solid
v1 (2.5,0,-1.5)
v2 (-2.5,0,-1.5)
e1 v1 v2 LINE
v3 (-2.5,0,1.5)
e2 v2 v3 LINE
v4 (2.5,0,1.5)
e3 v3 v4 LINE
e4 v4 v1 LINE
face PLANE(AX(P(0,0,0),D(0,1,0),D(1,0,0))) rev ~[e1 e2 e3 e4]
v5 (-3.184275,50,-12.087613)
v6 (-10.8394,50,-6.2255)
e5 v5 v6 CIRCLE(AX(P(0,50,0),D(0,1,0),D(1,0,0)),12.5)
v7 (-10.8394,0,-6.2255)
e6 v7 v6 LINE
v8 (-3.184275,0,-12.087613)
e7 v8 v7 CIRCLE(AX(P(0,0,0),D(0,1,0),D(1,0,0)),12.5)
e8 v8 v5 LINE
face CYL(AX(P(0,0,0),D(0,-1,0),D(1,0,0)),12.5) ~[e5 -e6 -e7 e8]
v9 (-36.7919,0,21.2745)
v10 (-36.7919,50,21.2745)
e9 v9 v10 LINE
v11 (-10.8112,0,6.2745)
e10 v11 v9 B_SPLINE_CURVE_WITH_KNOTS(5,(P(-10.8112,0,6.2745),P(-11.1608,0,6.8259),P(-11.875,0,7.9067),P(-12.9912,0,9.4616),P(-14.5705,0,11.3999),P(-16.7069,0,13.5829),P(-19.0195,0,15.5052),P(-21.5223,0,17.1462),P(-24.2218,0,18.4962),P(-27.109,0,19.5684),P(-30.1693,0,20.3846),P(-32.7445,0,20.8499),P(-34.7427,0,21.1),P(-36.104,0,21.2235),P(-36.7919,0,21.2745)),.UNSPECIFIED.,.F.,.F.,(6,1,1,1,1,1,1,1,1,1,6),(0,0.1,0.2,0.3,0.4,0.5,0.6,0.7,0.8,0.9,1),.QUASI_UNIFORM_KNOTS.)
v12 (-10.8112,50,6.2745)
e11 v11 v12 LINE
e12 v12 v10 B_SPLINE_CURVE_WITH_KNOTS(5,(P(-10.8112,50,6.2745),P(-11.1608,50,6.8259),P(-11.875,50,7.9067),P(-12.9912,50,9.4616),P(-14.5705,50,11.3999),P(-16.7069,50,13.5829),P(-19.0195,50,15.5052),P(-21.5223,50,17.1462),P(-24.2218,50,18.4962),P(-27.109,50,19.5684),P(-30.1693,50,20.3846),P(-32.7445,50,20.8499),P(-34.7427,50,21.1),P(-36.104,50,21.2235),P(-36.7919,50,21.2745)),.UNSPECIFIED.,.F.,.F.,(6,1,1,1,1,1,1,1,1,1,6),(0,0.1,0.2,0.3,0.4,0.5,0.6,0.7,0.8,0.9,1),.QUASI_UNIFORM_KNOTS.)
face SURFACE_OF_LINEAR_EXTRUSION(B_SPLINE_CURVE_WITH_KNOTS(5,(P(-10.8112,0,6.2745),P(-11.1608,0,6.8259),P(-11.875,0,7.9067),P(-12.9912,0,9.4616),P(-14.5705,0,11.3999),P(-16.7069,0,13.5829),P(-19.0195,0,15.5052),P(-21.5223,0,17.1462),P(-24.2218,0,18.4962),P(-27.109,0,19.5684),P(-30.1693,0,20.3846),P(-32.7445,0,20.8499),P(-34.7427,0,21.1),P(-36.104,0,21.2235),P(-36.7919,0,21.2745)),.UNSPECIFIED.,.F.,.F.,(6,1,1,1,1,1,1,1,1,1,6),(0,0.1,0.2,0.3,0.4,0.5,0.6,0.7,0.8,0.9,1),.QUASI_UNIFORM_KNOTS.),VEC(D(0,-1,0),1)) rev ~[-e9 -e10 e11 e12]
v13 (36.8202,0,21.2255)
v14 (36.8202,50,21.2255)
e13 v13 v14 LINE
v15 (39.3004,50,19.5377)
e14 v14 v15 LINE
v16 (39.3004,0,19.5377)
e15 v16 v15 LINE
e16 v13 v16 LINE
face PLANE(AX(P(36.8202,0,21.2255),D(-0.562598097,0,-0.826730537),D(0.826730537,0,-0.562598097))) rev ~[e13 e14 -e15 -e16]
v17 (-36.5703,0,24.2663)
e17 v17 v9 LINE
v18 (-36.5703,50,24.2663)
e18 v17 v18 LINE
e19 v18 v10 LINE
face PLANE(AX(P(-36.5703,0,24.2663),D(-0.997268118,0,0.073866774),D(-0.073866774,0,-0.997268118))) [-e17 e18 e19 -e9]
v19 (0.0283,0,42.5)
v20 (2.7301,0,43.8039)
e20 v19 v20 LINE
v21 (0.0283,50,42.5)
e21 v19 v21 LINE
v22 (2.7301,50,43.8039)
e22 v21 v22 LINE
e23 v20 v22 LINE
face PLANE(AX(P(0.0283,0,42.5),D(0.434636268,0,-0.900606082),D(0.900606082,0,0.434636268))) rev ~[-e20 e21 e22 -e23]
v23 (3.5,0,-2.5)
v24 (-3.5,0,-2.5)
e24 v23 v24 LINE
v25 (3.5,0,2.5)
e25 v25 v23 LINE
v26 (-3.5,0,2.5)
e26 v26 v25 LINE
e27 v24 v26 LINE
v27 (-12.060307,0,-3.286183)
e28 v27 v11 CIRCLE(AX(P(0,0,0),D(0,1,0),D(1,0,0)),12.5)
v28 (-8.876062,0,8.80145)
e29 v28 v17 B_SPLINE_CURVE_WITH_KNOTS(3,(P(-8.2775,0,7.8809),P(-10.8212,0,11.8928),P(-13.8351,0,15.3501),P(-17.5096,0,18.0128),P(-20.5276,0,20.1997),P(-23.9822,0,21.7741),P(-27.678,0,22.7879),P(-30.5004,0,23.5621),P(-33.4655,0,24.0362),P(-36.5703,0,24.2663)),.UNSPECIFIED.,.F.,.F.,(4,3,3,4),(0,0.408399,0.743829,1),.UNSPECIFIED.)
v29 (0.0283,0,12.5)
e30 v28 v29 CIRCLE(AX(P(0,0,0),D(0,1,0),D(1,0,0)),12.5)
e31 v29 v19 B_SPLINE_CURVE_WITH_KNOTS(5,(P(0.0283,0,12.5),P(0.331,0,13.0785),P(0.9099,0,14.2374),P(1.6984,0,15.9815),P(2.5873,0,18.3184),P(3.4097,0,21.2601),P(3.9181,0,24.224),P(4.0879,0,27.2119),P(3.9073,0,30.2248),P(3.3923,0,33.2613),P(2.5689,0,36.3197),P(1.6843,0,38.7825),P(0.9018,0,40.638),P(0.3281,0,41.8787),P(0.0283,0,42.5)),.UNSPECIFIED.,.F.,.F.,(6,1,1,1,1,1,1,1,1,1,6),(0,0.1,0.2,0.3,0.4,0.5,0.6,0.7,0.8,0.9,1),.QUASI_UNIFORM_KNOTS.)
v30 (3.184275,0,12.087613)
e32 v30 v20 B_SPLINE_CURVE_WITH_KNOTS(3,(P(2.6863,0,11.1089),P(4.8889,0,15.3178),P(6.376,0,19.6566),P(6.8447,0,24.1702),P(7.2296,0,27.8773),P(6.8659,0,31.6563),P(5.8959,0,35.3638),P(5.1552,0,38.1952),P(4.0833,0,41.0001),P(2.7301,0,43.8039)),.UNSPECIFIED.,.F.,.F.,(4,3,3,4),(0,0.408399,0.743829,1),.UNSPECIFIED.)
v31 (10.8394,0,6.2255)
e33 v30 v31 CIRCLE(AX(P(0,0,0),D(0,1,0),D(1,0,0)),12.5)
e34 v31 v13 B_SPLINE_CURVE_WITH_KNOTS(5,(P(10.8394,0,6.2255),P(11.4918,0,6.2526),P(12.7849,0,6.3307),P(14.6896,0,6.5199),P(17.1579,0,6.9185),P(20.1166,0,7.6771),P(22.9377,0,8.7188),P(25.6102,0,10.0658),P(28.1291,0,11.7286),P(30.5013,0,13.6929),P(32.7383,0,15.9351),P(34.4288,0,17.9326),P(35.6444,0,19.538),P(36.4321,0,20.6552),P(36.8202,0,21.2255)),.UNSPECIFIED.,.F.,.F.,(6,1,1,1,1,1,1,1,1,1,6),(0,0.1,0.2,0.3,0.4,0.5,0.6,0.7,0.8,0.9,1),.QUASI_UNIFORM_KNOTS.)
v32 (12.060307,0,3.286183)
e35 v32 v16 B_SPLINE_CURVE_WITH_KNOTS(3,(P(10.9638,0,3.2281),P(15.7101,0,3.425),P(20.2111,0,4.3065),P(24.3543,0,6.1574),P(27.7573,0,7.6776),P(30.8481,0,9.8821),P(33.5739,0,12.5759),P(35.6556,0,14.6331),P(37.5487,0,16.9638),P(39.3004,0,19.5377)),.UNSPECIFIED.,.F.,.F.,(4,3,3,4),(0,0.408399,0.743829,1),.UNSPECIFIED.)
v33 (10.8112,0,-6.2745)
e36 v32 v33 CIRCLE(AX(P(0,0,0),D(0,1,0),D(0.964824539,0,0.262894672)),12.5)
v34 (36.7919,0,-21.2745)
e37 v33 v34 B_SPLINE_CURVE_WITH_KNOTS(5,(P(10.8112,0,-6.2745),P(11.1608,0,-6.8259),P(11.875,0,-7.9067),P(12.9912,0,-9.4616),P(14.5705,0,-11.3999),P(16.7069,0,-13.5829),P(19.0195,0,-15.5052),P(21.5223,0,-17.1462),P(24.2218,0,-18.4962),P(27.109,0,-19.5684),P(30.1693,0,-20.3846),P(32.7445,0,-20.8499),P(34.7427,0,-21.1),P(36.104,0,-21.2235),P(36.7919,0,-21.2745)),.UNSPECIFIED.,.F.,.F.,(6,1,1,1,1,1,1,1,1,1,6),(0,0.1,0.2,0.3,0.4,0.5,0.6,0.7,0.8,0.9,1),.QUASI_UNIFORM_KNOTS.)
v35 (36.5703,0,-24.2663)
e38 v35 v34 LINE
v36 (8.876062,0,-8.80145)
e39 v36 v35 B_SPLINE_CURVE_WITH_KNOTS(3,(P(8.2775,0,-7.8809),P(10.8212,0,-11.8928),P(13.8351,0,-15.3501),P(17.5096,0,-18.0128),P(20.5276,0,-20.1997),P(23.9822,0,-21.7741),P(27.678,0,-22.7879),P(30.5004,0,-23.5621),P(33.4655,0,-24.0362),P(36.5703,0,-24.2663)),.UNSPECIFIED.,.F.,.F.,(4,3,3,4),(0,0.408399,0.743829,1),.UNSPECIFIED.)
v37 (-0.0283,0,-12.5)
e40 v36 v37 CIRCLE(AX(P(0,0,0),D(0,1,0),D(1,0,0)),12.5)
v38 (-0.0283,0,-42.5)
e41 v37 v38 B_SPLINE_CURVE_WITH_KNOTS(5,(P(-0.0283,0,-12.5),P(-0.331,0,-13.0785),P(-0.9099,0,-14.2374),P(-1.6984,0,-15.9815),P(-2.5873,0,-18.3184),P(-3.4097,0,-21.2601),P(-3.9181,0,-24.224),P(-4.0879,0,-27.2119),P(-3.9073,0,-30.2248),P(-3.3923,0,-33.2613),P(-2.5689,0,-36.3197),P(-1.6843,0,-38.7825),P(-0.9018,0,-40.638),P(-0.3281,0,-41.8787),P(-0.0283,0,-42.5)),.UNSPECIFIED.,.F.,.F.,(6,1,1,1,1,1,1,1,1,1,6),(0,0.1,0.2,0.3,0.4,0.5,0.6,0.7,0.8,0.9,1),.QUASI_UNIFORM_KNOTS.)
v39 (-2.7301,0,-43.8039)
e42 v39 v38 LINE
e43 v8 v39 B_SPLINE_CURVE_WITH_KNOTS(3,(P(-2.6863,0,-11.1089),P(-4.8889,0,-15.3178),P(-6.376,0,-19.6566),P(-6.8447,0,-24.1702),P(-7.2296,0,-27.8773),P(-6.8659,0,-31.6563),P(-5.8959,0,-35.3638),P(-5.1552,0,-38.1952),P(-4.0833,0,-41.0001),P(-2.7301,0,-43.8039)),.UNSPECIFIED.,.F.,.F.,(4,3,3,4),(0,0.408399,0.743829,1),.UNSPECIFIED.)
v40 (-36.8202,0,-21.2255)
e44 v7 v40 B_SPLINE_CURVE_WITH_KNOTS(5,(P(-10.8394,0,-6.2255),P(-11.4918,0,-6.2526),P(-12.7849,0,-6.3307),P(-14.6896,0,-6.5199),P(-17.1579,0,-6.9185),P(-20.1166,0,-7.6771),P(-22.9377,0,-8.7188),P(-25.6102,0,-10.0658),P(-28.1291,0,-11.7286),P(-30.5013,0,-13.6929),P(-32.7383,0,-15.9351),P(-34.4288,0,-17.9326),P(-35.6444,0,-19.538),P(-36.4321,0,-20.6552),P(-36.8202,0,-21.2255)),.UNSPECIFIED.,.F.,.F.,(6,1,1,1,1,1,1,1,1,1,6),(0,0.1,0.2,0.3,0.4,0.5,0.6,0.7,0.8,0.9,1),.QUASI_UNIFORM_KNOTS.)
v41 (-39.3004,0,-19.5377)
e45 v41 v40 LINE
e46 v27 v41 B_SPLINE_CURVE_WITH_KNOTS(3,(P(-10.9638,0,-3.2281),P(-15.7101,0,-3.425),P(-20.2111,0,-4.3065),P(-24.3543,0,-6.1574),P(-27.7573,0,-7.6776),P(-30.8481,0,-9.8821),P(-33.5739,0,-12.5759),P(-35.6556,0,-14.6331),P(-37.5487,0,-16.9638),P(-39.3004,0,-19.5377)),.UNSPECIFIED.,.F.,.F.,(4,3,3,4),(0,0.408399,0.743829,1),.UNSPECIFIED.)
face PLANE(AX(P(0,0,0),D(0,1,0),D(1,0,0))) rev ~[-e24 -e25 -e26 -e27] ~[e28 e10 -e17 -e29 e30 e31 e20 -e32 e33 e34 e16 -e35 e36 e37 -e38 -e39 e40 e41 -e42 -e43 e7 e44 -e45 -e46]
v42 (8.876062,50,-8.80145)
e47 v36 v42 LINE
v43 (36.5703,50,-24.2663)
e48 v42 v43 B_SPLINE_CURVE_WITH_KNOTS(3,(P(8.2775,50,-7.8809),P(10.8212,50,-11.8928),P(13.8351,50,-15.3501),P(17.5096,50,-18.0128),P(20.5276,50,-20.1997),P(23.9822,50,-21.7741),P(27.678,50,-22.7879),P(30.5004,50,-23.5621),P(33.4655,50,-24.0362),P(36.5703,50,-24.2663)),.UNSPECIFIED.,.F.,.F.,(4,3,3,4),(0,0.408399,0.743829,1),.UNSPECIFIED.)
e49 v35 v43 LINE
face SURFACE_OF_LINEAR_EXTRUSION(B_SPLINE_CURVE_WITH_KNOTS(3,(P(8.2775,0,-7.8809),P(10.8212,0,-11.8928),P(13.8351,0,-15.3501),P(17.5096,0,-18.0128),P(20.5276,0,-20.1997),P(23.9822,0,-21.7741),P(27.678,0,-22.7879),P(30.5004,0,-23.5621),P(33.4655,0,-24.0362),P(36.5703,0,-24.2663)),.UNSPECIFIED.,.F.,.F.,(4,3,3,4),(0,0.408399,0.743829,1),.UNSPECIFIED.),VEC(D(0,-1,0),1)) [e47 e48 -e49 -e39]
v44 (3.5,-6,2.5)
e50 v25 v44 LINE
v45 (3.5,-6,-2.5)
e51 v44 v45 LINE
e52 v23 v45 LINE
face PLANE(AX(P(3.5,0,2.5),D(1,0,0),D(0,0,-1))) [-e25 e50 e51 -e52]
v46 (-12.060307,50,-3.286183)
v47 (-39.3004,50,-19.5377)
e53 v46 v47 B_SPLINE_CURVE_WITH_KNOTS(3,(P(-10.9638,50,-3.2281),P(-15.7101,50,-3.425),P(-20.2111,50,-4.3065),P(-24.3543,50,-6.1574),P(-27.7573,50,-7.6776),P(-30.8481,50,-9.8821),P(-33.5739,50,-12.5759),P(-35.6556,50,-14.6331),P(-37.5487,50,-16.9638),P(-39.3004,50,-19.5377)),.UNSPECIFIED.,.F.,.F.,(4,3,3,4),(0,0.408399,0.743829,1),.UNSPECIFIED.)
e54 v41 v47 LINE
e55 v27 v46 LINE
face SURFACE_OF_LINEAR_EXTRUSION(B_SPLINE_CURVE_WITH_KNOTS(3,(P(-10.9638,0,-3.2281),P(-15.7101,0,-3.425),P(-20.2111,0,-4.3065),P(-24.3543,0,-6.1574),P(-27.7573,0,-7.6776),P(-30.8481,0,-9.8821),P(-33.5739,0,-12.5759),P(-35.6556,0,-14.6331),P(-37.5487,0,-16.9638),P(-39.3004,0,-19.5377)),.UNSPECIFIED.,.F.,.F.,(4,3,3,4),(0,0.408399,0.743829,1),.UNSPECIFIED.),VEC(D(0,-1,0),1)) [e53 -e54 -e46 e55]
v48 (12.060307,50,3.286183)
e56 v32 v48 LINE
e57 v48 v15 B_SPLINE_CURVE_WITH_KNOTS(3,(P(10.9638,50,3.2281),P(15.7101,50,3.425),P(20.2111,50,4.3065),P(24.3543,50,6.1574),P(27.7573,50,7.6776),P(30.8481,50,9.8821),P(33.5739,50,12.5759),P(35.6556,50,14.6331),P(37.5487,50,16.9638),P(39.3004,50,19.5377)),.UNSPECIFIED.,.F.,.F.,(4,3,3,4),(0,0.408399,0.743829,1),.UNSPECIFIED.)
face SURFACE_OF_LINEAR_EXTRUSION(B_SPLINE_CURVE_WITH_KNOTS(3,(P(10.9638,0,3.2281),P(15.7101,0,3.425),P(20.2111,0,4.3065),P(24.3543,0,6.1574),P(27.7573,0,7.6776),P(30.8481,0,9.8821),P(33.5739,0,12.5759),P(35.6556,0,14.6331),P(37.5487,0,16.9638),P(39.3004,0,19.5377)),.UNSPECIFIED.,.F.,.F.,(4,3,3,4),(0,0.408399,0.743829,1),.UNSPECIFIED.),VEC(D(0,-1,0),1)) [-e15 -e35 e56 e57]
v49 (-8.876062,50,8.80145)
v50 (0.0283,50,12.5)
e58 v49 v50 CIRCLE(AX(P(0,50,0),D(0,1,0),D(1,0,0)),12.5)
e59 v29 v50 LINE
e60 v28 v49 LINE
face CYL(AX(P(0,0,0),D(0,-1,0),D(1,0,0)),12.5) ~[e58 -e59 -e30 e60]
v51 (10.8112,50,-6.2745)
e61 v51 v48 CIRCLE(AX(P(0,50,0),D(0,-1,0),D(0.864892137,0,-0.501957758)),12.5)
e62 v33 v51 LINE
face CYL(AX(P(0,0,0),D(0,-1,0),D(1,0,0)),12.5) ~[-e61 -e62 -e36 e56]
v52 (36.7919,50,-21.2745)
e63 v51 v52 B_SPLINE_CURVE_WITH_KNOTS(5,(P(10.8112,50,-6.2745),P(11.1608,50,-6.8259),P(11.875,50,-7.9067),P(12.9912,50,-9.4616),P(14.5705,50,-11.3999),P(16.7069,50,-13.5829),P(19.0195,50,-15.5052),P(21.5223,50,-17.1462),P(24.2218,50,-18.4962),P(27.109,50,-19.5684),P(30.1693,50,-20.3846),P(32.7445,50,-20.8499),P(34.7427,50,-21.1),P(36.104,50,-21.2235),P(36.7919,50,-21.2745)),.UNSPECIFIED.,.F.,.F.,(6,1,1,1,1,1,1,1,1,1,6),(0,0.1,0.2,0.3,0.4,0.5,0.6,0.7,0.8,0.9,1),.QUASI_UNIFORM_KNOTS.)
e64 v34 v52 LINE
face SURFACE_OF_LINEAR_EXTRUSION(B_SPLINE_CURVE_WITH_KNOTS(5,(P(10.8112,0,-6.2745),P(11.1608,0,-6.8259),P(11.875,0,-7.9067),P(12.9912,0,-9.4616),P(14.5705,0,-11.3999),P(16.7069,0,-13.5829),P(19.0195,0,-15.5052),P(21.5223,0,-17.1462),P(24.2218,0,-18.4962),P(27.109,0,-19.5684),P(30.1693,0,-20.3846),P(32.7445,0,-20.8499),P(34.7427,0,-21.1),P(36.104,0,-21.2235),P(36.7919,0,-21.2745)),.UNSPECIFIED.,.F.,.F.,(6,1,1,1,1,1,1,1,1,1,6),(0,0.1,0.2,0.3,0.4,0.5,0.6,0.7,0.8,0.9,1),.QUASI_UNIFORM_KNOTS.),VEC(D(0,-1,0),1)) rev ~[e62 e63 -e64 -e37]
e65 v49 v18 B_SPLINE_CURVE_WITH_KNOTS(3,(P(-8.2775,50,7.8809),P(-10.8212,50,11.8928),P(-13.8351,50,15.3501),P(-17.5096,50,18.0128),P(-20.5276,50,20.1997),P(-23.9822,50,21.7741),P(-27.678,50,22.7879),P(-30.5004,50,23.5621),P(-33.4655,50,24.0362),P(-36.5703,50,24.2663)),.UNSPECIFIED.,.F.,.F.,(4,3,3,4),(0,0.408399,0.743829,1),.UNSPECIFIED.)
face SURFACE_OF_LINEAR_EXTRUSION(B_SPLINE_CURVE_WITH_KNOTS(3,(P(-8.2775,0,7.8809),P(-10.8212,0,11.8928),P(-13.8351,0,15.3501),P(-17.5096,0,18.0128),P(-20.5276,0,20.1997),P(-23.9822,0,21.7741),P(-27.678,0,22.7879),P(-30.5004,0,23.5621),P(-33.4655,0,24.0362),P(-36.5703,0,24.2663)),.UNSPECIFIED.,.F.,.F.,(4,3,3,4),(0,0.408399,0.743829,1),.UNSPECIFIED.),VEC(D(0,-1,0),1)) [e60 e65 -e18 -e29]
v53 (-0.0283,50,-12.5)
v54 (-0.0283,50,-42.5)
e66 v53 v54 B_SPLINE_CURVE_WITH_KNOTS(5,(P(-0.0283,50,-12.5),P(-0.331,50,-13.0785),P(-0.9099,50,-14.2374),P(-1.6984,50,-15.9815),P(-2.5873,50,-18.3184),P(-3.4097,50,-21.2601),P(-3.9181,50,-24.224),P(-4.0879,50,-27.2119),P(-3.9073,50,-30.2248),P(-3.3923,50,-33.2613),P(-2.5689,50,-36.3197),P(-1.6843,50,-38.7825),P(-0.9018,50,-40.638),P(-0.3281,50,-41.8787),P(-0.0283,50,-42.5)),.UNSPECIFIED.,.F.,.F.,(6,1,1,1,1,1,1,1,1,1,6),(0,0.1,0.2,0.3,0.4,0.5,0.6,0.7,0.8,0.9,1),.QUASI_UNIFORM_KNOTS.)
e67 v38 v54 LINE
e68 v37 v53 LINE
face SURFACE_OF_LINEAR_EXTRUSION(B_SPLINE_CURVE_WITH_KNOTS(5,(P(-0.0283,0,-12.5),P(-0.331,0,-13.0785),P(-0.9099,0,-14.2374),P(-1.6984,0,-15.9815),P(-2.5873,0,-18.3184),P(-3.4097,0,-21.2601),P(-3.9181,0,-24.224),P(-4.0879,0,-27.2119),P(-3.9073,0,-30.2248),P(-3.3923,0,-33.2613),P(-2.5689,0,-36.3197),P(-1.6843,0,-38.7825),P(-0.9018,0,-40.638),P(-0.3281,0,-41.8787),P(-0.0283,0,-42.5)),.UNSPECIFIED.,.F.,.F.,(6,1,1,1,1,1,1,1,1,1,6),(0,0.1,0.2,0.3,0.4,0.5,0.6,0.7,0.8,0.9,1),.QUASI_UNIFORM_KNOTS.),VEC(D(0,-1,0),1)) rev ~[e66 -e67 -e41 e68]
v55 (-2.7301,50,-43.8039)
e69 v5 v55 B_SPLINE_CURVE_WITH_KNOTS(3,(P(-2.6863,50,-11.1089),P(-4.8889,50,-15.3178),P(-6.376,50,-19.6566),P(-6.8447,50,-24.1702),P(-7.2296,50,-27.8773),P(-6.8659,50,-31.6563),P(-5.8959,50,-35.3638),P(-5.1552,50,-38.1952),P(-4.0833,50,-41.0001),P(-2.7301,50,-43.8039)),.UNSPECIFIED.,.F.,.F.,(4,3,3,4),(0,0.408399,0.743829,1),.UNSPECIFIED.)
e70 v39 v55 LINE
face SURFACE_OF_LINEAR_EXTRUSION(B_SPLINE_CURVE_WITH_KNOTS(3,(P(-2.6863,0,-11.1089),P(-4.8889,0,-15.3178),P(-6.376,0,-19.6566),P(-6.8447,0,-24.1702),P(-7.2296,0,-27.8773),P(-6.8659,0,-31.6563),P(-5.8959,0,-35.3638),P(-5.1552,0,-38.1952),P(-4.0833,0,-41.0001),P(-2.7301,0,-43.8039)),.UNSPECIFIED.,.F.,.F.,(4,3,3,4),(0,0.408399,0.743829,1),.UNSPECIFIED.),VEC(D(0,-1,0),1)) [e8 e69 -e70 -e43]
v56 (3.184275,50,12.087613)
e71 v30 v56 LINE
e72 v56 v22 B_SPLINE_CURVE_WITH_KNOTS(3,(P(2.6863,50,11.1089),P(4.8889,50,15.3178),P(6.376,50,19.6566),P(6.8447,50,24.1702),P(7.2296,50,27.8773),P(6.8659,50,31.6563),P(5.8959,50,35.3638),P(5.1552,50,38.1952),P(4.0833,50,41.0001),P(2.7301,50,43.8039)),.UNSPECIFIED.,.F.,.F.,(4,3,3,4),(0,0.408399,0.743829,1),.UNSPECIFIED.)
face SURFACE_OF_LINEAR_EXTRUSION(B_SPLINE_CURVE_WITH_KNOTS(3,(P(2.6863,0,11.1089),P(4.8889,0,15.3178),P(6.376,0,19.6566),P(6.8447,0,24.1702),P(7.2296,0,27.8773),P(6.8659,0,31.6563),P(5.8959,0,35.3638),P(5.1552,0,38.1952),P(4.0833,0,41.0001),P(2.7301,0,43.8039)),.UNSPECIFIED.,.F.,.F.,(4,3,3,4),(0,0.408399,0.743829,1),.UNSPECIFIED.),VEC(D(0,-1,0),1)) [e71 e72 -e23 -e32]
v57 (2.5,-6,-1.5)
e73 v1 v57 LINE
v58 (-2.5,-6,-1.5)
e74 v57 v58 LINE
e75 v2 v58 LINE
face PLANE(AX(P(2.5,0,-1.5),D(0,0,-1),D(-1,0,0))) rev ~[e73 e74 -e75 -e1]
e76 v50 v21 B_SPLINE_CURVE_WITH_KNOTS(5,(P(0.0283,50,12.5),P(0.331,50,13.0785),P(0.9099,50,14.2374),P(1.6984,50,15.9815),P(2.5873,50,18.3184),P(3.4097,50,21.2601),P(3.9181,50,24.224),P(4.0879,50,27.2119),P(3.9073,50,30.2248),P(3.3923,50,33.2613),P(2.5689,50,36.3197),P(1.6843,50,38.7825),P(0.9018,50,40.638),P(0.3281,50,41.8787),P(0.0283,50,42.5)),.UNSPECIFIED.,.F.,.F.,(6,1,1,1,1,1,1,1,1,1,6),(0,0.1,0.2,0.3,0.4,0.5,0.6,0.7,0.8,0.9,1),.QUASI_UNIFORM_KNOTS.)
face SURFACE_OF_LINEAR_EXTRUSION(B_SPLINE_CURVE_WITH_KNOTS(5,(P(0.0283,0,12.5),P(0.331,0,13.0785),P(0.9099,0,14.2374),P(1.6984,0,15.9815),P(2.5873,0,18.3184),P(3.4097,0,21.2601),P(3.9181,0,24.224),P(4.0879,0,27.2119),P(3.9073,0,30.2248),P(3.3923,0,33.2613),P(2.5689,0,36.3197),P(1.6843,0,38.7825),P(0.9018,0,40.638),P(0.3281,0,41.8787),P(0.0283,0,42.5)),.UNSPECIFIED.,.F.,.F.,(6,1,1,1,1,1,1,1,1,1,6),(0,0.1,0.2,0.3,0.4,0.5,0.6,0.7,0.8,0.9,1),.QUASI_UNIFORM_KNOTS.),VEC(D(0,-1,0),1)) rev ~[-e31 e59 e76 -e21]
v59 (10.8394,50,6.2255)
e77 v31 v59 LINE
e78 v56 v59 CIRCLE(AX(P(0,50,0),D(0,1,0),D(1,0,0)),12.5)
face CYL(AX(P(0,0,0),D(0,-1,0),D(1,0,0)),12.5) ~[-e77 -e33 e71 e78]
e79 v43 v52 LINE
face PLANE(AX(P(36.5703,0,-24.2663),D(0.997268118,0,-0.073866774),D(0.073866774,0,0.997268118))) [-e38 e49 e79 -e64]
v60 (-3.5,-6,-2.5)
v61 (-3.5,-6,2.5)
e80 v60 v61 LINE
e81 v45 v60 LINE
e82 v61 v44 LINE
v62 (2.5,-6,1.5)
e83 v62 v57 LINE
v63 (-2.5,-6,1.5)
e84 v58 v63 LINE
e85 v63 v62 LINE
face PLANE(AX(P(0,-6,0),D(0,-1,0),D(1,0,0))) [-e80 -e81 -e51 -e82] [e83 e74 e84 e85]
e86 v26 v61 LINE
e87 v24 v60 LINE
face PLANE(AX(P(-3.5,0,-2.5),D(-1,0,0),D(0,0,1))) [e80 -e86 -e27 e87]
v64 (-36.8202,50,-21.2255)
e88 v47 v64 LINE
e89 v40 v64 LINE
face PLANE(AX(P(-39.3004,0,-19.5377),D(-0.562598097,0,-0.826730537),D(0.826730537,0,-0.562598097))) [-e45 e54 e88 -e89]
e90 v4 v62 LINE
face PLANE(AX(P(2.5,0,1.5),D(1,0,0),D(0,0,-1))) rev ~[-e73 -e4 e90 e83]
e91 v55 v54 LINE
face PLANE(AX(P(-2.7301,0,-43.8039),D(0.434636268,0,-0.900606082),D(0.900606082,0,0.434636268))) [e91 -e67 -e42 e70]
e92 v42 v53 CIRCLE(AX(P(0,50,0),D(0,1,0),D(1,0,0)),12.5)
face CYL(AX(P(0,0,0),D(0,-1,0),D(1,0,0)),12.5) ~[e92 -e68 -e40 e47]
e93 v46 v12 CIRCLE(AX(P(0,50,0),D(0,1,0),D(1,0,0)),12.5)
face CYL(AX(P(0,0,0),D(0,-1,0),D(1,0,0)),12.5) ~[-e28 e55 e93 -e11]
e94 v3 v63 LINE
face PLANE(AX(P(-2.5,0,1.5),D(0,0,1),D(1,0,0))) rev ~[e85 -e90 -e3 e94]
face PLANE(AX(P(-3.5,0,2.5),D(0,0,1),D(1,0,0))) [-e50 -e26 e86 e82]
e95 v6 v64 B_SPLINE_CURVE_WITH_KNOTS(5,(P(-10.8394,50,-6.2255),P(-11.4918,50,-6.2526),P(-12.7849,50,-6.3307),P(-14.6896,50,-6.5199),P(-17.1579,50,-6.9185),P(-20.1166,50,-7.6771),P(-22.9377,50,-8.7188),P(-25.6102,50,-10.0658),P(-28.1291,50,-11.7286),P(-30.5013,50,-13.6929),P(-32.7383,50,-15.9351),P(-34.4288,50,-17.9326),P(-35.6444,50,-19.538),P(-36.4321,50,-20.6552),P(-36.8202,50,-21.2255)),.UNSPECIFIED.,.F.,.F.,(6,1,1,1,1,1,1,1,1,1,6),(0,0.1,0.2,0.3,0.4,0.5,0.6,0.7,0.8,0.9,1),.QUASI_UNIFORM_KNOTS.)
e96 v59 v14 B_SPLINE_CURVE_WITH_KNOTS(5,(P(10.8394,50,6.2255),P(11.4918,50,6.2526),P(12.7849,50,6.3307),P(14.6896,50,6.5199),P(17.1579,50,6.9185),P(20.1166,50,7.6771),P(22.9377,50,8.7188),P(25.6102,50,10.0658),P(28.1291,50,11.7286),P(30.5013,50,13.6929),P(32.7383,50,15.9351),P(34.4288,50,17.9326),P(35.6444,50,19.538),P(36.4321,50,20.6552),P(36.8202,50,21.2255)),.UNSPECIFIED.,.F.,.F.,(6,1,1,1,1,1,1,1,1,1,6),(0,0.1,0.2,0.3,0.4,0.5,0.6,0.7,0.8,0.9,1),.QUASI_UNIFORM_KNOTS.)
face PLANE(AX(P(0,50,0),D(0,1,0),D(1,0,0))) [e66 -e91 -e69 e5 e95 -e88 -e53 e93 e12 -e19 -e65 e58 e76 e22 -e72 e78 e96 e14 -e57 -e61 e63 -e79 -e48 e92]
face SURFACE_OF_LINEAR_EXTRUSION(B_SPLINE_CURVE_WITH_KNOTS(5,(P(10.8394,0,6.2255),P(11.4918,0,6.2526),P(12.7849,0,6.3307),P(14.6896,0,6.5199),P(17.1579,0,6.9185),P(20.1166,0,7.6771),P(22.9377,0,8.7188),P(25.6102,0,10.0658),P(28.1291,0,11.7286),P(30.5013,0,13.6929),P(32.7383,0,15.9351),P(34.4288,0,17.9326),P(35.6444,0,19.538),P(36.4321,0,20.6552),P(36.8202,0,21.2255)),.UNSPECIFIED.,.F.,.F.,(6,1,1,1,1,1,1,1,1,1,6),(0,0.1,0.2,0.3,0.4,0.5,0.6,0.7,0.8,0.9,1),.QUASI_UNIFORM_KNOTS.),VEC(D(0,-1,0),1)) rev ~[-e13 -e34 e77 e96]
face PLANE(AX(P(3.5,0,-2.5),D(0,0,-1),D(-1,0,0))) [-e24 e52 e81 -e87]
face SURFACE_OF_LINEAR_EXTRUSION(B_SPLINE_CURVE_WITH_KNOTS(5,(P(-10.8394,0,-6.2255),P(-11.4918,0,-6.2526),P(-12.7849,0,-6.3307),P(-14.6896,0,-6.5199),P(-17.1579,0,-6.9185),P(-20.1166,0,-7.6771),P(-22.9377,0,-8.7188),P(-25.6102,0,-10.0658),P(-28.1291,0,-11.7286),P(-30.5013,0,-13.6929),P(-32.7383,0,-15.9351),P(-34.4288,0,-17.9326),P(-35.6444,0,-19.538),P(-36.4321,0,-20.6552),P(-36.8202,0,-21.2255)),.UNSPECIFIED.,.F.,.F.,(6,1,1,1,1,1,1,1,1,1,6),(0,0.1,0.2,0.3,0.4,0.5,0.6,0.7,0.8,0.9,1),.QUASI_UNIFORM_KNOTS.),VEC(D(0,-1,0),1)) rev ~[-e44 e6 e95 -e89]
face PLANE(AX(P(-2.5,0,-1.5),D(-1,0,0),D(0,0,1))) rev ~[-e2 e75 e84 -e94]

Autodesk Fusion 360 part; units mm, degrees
sketch "Boceto1" plane through (0, 0, 0) normal (0, 1, 0) x (1, 0, 0)
  circle A0 centre (0, 0) radius 12.5
  spline S0 degree 5 poles (0.0283, -12.5) (0.331, -13.0785) (0.9099, -14.2374) (1.6984, -15.9815) (2.5873, -18.3184) (3.4097, -21.2601) (3.9181, -24.224) (4.0879, -27.2119) (3.9073, -30.2248) (3.3923, -33.2613) (2.5689, -36.3197) (1.6843, -38.7825) (0.9018, -40.638) (0.3281, -41.8787) (0.0283, -42.5) knots 0 0 0 0 0 0 0.1 0.2 0.3 0.4 0.5 0.6 0.7 0.8 0.9 1 1 1 1 1 1
  spline S1 degree 5 poles (10.8394, -6.2255) (11.4918, -6.2526) (12.7849, -6.3307) (14.6896, -6.5199) (17.1579, -6.9185) (20.1166, -7.6771) (22.9377, -8.7188) (25.6102, -10.0658) (28.1291, -11.7286) (30.5013, -13.6929) (32.7383, -15.9351) (34.4288, -17.9326) (35.6444, -19.538) (36.4321, -20.6552) (36.8202, -21.2255) knots 0 0 0 0 0 0 0.1 0.2 0.3 0.4 0.5 0.6 0.7 0.8 0.9 1 1 1 1 1 1
  spline S2 degree 5 poles (10.8112, 6.2745) (11.1608, 6.8259) (11.875, 7.9067) (12.9912, 9.4616) (14.5705, 11.3999) (16.7069, 13.5829) (19.0195, 15.5052) (21.5223, 17.1462) (24.2218, 18.4962) (27.109, 19.5684) (30.1693, 20.3846) (32.7445, 20.8499) (34.7427, 21.1) (36.104, 21.2235) (36.7919, 21.2745) knots 0 0 0 0 0 0 0.1 0.2 0.3 0.4 0.5 0.6 0.7 0.8 0.9 1 1 1 1 1 1
  spline S3 degree 5 poles (-0.0283, 12.5) (-0.331, 13.0785) (-0.9099, 14.2374) (-1.6984, 15.9815) (-2.5873, 18.3184) (-3.4097, 21.2601) (-3.9181, 24.224) (-4.0879, 27.2119) (-3.9073, 30.2248) (-3.3923, 33.2613) (-2.5689, 36.3197) (-1.6843, 38.7825) (-0.9018, 40.638) (-0.3281, 41.8787) (-0.0283, 42.5) knots 0 0 0 0 0 0 0.1 0.2 0.3 0.4 0.5 0.6 0.7 0.8 0.9 1 1 1 1 1 1
  spline S4 degree 5 poles (-10.8394, 6.2255) (-11.4918, 6.2526) (-12.7849, 6.3307) (-14.6896, 6.5199) (-17.1579, 6.9185) (-20.1166, 7.6771) (-22.9377, 8.7188) (-25.6102, 10.0658) (-28.1291, 11.7286) (-30.5013, 13.6929) (-32.7383, 15.9351) (-34.4288, 17.9326) (-35.6444, 19.538) (-36.4321, 20.6552) (-36.8202, 21.2255) knots 0 0 0 0 0 0 0.1 0.2 0.3 0.4 0.5 0.6 0.7 0.8 0.9 1 1 1 1 1 1
  spline S5 degree 5 poles (-10.8112, -6.2745) (-11.1608, -6.8259) (-11.875, -7.9067) (-12.9912, -9.4616) (-14.5705, -11.3999) (-16.7069, -13.5829) (-19.0195, -15.5052) (-21.5223, -17.1462) (-24.2218, -18.4962) (-27.109, -19.5684) (-30.1693, -20.3846) (-32.7445, -20.8499) (-34.7427, -21.1) (-36.104, -21.2235) (-36.7919, -21.2745) knots 0 0 0 0 0 0 0.1 0.2 0.3 0.4 0.5 0.6 0.7 0.8 0.9 1 1 1 1 1 1
  spline S6 degree 3 poles (2.6863, -11.1089) (4.8889, -15.3178) (6.376, -19.6566) (6.8447, -24.1702) (7.2296, -27.8773) (6.8659, -31.6563) (5.8959, -35.3638) (5.1552, -38.1952) (4.0833, -41.0001) (2.7301, -43.8039) knots 0 0 0 0 0.408399 0.408399 0.408399 0.743829 0.743829 0.743829 1 1 1 1
  spline S7 degree 3 poles (10.9638, -3.2281) (15.7101, -3.425) (20.2111, -4.3065) (24.3543, -6.1574) (27.7573, -7.6776) (30.8481, -9.8821) (33.5739, -12.5759) (35.6556, -14.6331) (37.5487, -16.9638) (39.3004, -19.5377) knots 0 0 0 0 0.408399 0.408399 0.408399 0.743829 0.743829 0.743829 1 1 1 1
  spline S8 degree 3 poles (8.2775, 7.8809) (10.8212, 11.8928) (13.8351, 15.3501) (17.5096, 18.0128) (20.5276, 20.1997) (23.9822, 21.7741) (27.678, 22.7879) (30.5004, 23.5621) (33.4655, 24.0362) (36.5703, 24.2663) knots 0 0 0 0 0.408399 0.408399 0.408399 0.743829 0.743829 0.743829 1 1 1 1
  spline S9 degree 3 poles (-2.6863, 11.1089) (-4.8889, 15.3178) (-6.376, 19.6566) (-6.8447, 24.1702) (-7.2296, 27.8773) (-6.8659, 31.6563) (-5.8959, 35.3638) (-5.1552, 38.1952) (-4.0833, 41.0001) (-2.7301, 43.8039) knots 0 0 0 0 0.408399 0.408399 0.408399 0.743829 0.743829 0.743829 1 1 1 1
  spline S10 degree 3 poles (-10.9638, 3.2281) (-15.7101, 3.425) (-20.2111, 4.3065) (-24.3543, 6.1574) (-27.7573, 7.6776) (-30.8481, 9.8821) (-33.5739, 12.5759) (-35.6556, 14.6331) (-37.5487, 16.9638) (-39.3004, 19.5377) knots 0 0 0 0 0.408399 0.408399 0.408399 0.743829 0.743829 0.743829 1 1 1 1
  spline S11 degree 3 poles (-8.2775, -7.8809) (-10.8212, -11.8928) (-13.8351, -15.3501) (-17.5096, -18.0128) (-20.5276, -20.1997) (-23.9822, -21.7741) (-27.678, -22.7879) (-30.5004, -23.5621) (-33.4655, -24.0362) (-36.5703, -24.2663) knots 0 0 0 0 0.408399 0.408399 0.408399 0.743829 0.743829 0.743829 1 1 1 1
  line L0 (0.0283, -42.5) -> (2.7301, -43.8039)
  line L1 (36.8202, -21.2255) -> (39.3004, -19.5377)
  line L2 (-36.5703, -24.2663) -> (-36.7919, -21.2745)
  line L3 (-39.3004, 19.5377) -> (-36.8202, 21.2255)
  line L4 (-2.7301, 43.8039) -> (-0.0283, 42.5)
  line L5 (36.5703, 24.2663) -> (36.7919, 21.2745)
  point P0 (4, -27)
  point P1 (25.3827, -10.0359)
  point P2 (21.3827, 16.9641)
  point P3 (-4, 27)
  point P4 (-25.3827, 10.0359)
  point P5 (-21.3827, -16.9641)
  dimension "d1" = 25
  dimension "d5" = -3
extrude "Extruir1" add sketch "Boceto1" along normal blind 50
sketch "Boceto2" plane through (0, 0, 0) normal (0, -1, 0) x (1, 0, 0)
  arc A0 (-0.0283, -12.5) -> (8.8761, -8.8014) centre (0, 0) ccw
  spline S0 degree 3 poles (8.8761, -8.8014) (11.2912, -12.4227) (14.1192, -15.556) (17.5096, -18.0128) (20.5276, -20.1997) (23.9822, -21.7741) (27.678, -22.7879) (30.5004, -23.5621) (33.4655, -24.0362) (36.5703, -24.2663) knots 0.031578 0.031578 0.031578 0.031578 0.408399 0.408399 0.408399 0.743829 0.743829 0.743829 1 1 1 1
  line L0 (36.5703, -24.2663) -> (36.7919, -21.2745)
  spline S1 degree 5 poles (10.8112, -6.2745) (11.1608, -6.8259) (11.875, -7.9067) (12.9912, -9.4616) (14.5705, -11.3999) (16.7069, -13.5829) (19.0195, -15.5052) (21.5223, -17.1462) (24.2218, -18.4962) (27.109, -19.5684) (30.1693, -20.3846) (32.7445, -20.8499) (34.7427, -21.1) (36.104, -21.2235) (36.7919, -21.2745) knots 0 0 0 0 0 0 0.1 0.2 0.3 0.4 0.5 0.6 0.7 0.8 0.9 1 1 1 1 1 1
  arc A1 (10.8112, -6.2745) -> (12.0603, 3.2862) centre (0, 0) ccw
  spline S2 degree 3 poles (12.0603, 3.2862) (16.404, 3.5671) (20.5315, 4.4496) (24.3543, 6.1574) (27.7573, 7.6776) (30.8481, 9.8821) (33.5739, 12.5759) (35.6556, 14.6331) (37.5487, 16.9638) (39.3004, 19.5377) knots 0.031578 0.031578 0.031578 0.031578 0.408399 0.408399 0.408399 0.743829 0.743829 0.743829 1 1 1 1
  line L1 (39.3004, 19.5377) -> (36.8202, 21.2255)
  spline S3 degree 5 poles (10.8394, 6.2255) (11.4918, 6.2526) (12.7849, 6.3307) (14.6896, 6.5199) (17.1579, 6.9185) (20.1166, 7.6771) (22.9377, 8.7188) (25.6102, 10.0658) (28.1291, 11.7286) (30.5013, 13.6929) (32.7383, 15.9351) (34.4288, 17.9326) (35.6444, 19.538) (36.4321, 20.6552) (36.8202, 21.2255) knots 0 0 0 0 0 0 0.1 0.2 0.3 0.4 0.5 0.6 0.7 0.8 0.9 1 1 1 1 1 1
  arc A2 (10.8394, 6.2255) -> (3.1842, 12.0876) centre (0, 0) ccw
  spline S4 degree 3 poles (3.1842, 12.0876) (5.1128, 15.9898) (6.4123, 20.0056) (6.8447, 24.1702) (7.2296, 27.8773) (6.8659, 31.6563) (5.8959, 35.3638) (5.1552, 38.1952) (4.0833, 41.0001) (2.7301, 43.8039) knots 0.031578 0.031578 0.031578 0.031578 0.408399 0.408399 0.408399 0.743829 0.743829 0.743829 1 1 1 1
  line L2 (2.7301, 43.8039) -> (0.0283, 42.5)
  spline S5 degree 5 poles (0.0283, 12.5) (0.331, 13.0785) (0.9099, 14.2374) (1.6984, 15.9815) (2.5873, 18.3184) (3.4097, 21.2601) (3.9181, 24.224) (4.0879, 27.2119) (3.9073, 30.2248) (3.3923, 33.2613) (2.5689, 36.3197) (1.6843, 38.7825) (0.9018, 40.638) (0.3281, 41.8787) (0.0283, 42.5) knots 0 0 0 0 0 0 0.1 0.2 0.3 0.4 0.5 0.6 0.7 0.8 0.9 1 1 1 1 1 1
  arc A3 (0.0283, 12.5) -> (-8.8761, 8.8014) centre (0, 0) ccw
  spline S6 degree 3 poles (-8.8761, 8.8014) (-11.2912, 12.4227) (-14.1192, 15.556) (-17.5096, 18.0128) (-20.5276, 20.1997) (-23.9822, 21.7741) (-27.678, 22.7879) (-30.5004, 23.5621) (-33.4655, 24.0362) (-36.5703, 24.2663) knots 0.031578 0.031578 0.031578 0.031578 0.408399 0.408399 0.408399 0.743829 0.743829 0.743829 1 1 1 1
  line L3 (-36.5703, 24.2663) -> (-36.7919, 21.2745)
  spline S7 degree 5 poles (-10.8112, 6.2745) (-11.1608, 6.8259) (-11.875, 7.9067) (-12.9912, 9.4616) (-14.5705, 11.3999) (-16.7069, 13.5829) (-19.0195, 15.5052) (-21.5223, 17.1462) (-24.2218, 18.4962) (-27.109, 19.5684) (-30.1693, 20.3846) (-32.7445, 20.8499) (-34.7427, 21.1) (-36.104, 21.2235) (-36.7919, 21.2745) knots 0 0 0 0 0 0 0.1 0.2 0.3 0.4 0.5 0.6 0.7 0.8 0.9 1 1 1 1 1 1
  arc A4 (-10.8112, 6.2745) -> (-12.0603, -3.2862) centre (0, 0) ccw
  spline S8 degree 3 poles (-12.0603, -3.2862) (-16.404, -3.5671) (-20.5315, -4.4496) (-24.3543, -6.1574) (-27.7573, -7.6776) (-30.8481, -9.8821) (-33.5739, -12.5759) (-35.6556, -14.6331) (-37.5487, -16.9638) (-39.3004, -19.5377) knots 0.031578 0.031578 0.031578 0.031578 0.408399 0.408399 0.408399 0.743829 0.743829 0.743829 1 1 1 1
  line L4 (-39.3004, -19.5377) -> (-36.8202, -21.2255)
  spline S9 degree 5 poles (-10.8394, -6.2255) (-11.4918, -6.2526) (-12.7849, -6.3307) (-14.6896, -6.5199) (-17.1579, -6.9185) (-20.1166, -7.6771) (-22.9377, -8.7188) (-25.6102, -10.0658) (-28.1291, -11.7286) (-30.5013, -13.6929) (-32.7383, -15.9351) (-34.4288, -17.9326) (-35.6444, -19.538) (-36.4321, -20.6552) (-36.8202, -21.2255) knots 0 0 0 0 0 0 0.1 0.2 0.3 0.4 0.5 0.6 0.7 0.8 0.9 1 1 1 1 1 1
  arc A5 (-10.8394, -6.2255) -> (-3.1842, -12.0876) centre (0, 0) ccw
  spline S10 degree 3 poles (-3.1842, -12.0876) (-5.1128, -15.9898) (-6.4123, -20.0056) (-6.8447, -24.1702) (-7.2296, -27.8773) (-6.8659, -31.6563) (-5.8959, -35.3638) (-5.1552, -38.1952) (-4.0833, -41.0001) (-2.7301, -43.8039) knots 0.031578 0.031578 0.031578 0.031578 0.408399 0.408399 0.408399 0.743829 0.743829 0.743829 1 1 1 1
  line L5 (-2.7301, -43.8039) -> (-0.0283, -42.5)
  spline S11 degree 5 poles (-0.0283, -12.5) (-0.331, -13.0785) (-0.9099, -14.2374) (-1.6984, -15.9815) (-2.5873, -18.3184) (-3.4097, -21.2601) (-3.9181, -24.224) (-4.0879, -27.2119) (-3.9073, -30.2248) (-3.3923, -33.2613) (-2.5689, -36.3197) (-1.6843, -38.7825) (-0.9018, -40.638) (-0.3281, -41.8787) (-0.0283, -42.5) knots 0 0 0 0 0 0 0.1 0.2 0.3 0.4 0.5 0.6 0.7 0.8 0.9 1 1 1 1 1 1
  line L6 (0, 0) -> (-2.5, 0)
  line L7 (-2.5, 0) -> (-2.5, 1.5)
  line L8 (-2.5, 1.5) -> (2.5, 1.5)
  line L9 (2.5, 1.5) -> (2.5, -1.5)
  line L10 (2.5, -1.5) -> (-2.5, -1.5)
  line L11 (-2.5, -1.5) -> (-2.5, 0)
  line L12 (-3.5, -2.5) -> (-3.5, 2.5)
  line L13 (-3.5, 2.5) -> (3.5, 2.5)
  line L14 (3.5, 2.5) -> (3.5, -2.5)
  line L15 (3.5, -2.5) -> (-3.5, -2.5)
  dimension "d10" = 2.5
  dimension "d11" = 1.5
  dimension "d12" = 5
  dimension "d13" = 3
extrude "Extruir2" add sketch "Boceto2" along normal blind 6 contours L12 L13 L14 L15
sketch "Boceto3" plane through (0, 0, 0) normal (0, 1, 0) x (1, 0, 0)
  line L0 (0, 0) -> (0, -2.9052)
